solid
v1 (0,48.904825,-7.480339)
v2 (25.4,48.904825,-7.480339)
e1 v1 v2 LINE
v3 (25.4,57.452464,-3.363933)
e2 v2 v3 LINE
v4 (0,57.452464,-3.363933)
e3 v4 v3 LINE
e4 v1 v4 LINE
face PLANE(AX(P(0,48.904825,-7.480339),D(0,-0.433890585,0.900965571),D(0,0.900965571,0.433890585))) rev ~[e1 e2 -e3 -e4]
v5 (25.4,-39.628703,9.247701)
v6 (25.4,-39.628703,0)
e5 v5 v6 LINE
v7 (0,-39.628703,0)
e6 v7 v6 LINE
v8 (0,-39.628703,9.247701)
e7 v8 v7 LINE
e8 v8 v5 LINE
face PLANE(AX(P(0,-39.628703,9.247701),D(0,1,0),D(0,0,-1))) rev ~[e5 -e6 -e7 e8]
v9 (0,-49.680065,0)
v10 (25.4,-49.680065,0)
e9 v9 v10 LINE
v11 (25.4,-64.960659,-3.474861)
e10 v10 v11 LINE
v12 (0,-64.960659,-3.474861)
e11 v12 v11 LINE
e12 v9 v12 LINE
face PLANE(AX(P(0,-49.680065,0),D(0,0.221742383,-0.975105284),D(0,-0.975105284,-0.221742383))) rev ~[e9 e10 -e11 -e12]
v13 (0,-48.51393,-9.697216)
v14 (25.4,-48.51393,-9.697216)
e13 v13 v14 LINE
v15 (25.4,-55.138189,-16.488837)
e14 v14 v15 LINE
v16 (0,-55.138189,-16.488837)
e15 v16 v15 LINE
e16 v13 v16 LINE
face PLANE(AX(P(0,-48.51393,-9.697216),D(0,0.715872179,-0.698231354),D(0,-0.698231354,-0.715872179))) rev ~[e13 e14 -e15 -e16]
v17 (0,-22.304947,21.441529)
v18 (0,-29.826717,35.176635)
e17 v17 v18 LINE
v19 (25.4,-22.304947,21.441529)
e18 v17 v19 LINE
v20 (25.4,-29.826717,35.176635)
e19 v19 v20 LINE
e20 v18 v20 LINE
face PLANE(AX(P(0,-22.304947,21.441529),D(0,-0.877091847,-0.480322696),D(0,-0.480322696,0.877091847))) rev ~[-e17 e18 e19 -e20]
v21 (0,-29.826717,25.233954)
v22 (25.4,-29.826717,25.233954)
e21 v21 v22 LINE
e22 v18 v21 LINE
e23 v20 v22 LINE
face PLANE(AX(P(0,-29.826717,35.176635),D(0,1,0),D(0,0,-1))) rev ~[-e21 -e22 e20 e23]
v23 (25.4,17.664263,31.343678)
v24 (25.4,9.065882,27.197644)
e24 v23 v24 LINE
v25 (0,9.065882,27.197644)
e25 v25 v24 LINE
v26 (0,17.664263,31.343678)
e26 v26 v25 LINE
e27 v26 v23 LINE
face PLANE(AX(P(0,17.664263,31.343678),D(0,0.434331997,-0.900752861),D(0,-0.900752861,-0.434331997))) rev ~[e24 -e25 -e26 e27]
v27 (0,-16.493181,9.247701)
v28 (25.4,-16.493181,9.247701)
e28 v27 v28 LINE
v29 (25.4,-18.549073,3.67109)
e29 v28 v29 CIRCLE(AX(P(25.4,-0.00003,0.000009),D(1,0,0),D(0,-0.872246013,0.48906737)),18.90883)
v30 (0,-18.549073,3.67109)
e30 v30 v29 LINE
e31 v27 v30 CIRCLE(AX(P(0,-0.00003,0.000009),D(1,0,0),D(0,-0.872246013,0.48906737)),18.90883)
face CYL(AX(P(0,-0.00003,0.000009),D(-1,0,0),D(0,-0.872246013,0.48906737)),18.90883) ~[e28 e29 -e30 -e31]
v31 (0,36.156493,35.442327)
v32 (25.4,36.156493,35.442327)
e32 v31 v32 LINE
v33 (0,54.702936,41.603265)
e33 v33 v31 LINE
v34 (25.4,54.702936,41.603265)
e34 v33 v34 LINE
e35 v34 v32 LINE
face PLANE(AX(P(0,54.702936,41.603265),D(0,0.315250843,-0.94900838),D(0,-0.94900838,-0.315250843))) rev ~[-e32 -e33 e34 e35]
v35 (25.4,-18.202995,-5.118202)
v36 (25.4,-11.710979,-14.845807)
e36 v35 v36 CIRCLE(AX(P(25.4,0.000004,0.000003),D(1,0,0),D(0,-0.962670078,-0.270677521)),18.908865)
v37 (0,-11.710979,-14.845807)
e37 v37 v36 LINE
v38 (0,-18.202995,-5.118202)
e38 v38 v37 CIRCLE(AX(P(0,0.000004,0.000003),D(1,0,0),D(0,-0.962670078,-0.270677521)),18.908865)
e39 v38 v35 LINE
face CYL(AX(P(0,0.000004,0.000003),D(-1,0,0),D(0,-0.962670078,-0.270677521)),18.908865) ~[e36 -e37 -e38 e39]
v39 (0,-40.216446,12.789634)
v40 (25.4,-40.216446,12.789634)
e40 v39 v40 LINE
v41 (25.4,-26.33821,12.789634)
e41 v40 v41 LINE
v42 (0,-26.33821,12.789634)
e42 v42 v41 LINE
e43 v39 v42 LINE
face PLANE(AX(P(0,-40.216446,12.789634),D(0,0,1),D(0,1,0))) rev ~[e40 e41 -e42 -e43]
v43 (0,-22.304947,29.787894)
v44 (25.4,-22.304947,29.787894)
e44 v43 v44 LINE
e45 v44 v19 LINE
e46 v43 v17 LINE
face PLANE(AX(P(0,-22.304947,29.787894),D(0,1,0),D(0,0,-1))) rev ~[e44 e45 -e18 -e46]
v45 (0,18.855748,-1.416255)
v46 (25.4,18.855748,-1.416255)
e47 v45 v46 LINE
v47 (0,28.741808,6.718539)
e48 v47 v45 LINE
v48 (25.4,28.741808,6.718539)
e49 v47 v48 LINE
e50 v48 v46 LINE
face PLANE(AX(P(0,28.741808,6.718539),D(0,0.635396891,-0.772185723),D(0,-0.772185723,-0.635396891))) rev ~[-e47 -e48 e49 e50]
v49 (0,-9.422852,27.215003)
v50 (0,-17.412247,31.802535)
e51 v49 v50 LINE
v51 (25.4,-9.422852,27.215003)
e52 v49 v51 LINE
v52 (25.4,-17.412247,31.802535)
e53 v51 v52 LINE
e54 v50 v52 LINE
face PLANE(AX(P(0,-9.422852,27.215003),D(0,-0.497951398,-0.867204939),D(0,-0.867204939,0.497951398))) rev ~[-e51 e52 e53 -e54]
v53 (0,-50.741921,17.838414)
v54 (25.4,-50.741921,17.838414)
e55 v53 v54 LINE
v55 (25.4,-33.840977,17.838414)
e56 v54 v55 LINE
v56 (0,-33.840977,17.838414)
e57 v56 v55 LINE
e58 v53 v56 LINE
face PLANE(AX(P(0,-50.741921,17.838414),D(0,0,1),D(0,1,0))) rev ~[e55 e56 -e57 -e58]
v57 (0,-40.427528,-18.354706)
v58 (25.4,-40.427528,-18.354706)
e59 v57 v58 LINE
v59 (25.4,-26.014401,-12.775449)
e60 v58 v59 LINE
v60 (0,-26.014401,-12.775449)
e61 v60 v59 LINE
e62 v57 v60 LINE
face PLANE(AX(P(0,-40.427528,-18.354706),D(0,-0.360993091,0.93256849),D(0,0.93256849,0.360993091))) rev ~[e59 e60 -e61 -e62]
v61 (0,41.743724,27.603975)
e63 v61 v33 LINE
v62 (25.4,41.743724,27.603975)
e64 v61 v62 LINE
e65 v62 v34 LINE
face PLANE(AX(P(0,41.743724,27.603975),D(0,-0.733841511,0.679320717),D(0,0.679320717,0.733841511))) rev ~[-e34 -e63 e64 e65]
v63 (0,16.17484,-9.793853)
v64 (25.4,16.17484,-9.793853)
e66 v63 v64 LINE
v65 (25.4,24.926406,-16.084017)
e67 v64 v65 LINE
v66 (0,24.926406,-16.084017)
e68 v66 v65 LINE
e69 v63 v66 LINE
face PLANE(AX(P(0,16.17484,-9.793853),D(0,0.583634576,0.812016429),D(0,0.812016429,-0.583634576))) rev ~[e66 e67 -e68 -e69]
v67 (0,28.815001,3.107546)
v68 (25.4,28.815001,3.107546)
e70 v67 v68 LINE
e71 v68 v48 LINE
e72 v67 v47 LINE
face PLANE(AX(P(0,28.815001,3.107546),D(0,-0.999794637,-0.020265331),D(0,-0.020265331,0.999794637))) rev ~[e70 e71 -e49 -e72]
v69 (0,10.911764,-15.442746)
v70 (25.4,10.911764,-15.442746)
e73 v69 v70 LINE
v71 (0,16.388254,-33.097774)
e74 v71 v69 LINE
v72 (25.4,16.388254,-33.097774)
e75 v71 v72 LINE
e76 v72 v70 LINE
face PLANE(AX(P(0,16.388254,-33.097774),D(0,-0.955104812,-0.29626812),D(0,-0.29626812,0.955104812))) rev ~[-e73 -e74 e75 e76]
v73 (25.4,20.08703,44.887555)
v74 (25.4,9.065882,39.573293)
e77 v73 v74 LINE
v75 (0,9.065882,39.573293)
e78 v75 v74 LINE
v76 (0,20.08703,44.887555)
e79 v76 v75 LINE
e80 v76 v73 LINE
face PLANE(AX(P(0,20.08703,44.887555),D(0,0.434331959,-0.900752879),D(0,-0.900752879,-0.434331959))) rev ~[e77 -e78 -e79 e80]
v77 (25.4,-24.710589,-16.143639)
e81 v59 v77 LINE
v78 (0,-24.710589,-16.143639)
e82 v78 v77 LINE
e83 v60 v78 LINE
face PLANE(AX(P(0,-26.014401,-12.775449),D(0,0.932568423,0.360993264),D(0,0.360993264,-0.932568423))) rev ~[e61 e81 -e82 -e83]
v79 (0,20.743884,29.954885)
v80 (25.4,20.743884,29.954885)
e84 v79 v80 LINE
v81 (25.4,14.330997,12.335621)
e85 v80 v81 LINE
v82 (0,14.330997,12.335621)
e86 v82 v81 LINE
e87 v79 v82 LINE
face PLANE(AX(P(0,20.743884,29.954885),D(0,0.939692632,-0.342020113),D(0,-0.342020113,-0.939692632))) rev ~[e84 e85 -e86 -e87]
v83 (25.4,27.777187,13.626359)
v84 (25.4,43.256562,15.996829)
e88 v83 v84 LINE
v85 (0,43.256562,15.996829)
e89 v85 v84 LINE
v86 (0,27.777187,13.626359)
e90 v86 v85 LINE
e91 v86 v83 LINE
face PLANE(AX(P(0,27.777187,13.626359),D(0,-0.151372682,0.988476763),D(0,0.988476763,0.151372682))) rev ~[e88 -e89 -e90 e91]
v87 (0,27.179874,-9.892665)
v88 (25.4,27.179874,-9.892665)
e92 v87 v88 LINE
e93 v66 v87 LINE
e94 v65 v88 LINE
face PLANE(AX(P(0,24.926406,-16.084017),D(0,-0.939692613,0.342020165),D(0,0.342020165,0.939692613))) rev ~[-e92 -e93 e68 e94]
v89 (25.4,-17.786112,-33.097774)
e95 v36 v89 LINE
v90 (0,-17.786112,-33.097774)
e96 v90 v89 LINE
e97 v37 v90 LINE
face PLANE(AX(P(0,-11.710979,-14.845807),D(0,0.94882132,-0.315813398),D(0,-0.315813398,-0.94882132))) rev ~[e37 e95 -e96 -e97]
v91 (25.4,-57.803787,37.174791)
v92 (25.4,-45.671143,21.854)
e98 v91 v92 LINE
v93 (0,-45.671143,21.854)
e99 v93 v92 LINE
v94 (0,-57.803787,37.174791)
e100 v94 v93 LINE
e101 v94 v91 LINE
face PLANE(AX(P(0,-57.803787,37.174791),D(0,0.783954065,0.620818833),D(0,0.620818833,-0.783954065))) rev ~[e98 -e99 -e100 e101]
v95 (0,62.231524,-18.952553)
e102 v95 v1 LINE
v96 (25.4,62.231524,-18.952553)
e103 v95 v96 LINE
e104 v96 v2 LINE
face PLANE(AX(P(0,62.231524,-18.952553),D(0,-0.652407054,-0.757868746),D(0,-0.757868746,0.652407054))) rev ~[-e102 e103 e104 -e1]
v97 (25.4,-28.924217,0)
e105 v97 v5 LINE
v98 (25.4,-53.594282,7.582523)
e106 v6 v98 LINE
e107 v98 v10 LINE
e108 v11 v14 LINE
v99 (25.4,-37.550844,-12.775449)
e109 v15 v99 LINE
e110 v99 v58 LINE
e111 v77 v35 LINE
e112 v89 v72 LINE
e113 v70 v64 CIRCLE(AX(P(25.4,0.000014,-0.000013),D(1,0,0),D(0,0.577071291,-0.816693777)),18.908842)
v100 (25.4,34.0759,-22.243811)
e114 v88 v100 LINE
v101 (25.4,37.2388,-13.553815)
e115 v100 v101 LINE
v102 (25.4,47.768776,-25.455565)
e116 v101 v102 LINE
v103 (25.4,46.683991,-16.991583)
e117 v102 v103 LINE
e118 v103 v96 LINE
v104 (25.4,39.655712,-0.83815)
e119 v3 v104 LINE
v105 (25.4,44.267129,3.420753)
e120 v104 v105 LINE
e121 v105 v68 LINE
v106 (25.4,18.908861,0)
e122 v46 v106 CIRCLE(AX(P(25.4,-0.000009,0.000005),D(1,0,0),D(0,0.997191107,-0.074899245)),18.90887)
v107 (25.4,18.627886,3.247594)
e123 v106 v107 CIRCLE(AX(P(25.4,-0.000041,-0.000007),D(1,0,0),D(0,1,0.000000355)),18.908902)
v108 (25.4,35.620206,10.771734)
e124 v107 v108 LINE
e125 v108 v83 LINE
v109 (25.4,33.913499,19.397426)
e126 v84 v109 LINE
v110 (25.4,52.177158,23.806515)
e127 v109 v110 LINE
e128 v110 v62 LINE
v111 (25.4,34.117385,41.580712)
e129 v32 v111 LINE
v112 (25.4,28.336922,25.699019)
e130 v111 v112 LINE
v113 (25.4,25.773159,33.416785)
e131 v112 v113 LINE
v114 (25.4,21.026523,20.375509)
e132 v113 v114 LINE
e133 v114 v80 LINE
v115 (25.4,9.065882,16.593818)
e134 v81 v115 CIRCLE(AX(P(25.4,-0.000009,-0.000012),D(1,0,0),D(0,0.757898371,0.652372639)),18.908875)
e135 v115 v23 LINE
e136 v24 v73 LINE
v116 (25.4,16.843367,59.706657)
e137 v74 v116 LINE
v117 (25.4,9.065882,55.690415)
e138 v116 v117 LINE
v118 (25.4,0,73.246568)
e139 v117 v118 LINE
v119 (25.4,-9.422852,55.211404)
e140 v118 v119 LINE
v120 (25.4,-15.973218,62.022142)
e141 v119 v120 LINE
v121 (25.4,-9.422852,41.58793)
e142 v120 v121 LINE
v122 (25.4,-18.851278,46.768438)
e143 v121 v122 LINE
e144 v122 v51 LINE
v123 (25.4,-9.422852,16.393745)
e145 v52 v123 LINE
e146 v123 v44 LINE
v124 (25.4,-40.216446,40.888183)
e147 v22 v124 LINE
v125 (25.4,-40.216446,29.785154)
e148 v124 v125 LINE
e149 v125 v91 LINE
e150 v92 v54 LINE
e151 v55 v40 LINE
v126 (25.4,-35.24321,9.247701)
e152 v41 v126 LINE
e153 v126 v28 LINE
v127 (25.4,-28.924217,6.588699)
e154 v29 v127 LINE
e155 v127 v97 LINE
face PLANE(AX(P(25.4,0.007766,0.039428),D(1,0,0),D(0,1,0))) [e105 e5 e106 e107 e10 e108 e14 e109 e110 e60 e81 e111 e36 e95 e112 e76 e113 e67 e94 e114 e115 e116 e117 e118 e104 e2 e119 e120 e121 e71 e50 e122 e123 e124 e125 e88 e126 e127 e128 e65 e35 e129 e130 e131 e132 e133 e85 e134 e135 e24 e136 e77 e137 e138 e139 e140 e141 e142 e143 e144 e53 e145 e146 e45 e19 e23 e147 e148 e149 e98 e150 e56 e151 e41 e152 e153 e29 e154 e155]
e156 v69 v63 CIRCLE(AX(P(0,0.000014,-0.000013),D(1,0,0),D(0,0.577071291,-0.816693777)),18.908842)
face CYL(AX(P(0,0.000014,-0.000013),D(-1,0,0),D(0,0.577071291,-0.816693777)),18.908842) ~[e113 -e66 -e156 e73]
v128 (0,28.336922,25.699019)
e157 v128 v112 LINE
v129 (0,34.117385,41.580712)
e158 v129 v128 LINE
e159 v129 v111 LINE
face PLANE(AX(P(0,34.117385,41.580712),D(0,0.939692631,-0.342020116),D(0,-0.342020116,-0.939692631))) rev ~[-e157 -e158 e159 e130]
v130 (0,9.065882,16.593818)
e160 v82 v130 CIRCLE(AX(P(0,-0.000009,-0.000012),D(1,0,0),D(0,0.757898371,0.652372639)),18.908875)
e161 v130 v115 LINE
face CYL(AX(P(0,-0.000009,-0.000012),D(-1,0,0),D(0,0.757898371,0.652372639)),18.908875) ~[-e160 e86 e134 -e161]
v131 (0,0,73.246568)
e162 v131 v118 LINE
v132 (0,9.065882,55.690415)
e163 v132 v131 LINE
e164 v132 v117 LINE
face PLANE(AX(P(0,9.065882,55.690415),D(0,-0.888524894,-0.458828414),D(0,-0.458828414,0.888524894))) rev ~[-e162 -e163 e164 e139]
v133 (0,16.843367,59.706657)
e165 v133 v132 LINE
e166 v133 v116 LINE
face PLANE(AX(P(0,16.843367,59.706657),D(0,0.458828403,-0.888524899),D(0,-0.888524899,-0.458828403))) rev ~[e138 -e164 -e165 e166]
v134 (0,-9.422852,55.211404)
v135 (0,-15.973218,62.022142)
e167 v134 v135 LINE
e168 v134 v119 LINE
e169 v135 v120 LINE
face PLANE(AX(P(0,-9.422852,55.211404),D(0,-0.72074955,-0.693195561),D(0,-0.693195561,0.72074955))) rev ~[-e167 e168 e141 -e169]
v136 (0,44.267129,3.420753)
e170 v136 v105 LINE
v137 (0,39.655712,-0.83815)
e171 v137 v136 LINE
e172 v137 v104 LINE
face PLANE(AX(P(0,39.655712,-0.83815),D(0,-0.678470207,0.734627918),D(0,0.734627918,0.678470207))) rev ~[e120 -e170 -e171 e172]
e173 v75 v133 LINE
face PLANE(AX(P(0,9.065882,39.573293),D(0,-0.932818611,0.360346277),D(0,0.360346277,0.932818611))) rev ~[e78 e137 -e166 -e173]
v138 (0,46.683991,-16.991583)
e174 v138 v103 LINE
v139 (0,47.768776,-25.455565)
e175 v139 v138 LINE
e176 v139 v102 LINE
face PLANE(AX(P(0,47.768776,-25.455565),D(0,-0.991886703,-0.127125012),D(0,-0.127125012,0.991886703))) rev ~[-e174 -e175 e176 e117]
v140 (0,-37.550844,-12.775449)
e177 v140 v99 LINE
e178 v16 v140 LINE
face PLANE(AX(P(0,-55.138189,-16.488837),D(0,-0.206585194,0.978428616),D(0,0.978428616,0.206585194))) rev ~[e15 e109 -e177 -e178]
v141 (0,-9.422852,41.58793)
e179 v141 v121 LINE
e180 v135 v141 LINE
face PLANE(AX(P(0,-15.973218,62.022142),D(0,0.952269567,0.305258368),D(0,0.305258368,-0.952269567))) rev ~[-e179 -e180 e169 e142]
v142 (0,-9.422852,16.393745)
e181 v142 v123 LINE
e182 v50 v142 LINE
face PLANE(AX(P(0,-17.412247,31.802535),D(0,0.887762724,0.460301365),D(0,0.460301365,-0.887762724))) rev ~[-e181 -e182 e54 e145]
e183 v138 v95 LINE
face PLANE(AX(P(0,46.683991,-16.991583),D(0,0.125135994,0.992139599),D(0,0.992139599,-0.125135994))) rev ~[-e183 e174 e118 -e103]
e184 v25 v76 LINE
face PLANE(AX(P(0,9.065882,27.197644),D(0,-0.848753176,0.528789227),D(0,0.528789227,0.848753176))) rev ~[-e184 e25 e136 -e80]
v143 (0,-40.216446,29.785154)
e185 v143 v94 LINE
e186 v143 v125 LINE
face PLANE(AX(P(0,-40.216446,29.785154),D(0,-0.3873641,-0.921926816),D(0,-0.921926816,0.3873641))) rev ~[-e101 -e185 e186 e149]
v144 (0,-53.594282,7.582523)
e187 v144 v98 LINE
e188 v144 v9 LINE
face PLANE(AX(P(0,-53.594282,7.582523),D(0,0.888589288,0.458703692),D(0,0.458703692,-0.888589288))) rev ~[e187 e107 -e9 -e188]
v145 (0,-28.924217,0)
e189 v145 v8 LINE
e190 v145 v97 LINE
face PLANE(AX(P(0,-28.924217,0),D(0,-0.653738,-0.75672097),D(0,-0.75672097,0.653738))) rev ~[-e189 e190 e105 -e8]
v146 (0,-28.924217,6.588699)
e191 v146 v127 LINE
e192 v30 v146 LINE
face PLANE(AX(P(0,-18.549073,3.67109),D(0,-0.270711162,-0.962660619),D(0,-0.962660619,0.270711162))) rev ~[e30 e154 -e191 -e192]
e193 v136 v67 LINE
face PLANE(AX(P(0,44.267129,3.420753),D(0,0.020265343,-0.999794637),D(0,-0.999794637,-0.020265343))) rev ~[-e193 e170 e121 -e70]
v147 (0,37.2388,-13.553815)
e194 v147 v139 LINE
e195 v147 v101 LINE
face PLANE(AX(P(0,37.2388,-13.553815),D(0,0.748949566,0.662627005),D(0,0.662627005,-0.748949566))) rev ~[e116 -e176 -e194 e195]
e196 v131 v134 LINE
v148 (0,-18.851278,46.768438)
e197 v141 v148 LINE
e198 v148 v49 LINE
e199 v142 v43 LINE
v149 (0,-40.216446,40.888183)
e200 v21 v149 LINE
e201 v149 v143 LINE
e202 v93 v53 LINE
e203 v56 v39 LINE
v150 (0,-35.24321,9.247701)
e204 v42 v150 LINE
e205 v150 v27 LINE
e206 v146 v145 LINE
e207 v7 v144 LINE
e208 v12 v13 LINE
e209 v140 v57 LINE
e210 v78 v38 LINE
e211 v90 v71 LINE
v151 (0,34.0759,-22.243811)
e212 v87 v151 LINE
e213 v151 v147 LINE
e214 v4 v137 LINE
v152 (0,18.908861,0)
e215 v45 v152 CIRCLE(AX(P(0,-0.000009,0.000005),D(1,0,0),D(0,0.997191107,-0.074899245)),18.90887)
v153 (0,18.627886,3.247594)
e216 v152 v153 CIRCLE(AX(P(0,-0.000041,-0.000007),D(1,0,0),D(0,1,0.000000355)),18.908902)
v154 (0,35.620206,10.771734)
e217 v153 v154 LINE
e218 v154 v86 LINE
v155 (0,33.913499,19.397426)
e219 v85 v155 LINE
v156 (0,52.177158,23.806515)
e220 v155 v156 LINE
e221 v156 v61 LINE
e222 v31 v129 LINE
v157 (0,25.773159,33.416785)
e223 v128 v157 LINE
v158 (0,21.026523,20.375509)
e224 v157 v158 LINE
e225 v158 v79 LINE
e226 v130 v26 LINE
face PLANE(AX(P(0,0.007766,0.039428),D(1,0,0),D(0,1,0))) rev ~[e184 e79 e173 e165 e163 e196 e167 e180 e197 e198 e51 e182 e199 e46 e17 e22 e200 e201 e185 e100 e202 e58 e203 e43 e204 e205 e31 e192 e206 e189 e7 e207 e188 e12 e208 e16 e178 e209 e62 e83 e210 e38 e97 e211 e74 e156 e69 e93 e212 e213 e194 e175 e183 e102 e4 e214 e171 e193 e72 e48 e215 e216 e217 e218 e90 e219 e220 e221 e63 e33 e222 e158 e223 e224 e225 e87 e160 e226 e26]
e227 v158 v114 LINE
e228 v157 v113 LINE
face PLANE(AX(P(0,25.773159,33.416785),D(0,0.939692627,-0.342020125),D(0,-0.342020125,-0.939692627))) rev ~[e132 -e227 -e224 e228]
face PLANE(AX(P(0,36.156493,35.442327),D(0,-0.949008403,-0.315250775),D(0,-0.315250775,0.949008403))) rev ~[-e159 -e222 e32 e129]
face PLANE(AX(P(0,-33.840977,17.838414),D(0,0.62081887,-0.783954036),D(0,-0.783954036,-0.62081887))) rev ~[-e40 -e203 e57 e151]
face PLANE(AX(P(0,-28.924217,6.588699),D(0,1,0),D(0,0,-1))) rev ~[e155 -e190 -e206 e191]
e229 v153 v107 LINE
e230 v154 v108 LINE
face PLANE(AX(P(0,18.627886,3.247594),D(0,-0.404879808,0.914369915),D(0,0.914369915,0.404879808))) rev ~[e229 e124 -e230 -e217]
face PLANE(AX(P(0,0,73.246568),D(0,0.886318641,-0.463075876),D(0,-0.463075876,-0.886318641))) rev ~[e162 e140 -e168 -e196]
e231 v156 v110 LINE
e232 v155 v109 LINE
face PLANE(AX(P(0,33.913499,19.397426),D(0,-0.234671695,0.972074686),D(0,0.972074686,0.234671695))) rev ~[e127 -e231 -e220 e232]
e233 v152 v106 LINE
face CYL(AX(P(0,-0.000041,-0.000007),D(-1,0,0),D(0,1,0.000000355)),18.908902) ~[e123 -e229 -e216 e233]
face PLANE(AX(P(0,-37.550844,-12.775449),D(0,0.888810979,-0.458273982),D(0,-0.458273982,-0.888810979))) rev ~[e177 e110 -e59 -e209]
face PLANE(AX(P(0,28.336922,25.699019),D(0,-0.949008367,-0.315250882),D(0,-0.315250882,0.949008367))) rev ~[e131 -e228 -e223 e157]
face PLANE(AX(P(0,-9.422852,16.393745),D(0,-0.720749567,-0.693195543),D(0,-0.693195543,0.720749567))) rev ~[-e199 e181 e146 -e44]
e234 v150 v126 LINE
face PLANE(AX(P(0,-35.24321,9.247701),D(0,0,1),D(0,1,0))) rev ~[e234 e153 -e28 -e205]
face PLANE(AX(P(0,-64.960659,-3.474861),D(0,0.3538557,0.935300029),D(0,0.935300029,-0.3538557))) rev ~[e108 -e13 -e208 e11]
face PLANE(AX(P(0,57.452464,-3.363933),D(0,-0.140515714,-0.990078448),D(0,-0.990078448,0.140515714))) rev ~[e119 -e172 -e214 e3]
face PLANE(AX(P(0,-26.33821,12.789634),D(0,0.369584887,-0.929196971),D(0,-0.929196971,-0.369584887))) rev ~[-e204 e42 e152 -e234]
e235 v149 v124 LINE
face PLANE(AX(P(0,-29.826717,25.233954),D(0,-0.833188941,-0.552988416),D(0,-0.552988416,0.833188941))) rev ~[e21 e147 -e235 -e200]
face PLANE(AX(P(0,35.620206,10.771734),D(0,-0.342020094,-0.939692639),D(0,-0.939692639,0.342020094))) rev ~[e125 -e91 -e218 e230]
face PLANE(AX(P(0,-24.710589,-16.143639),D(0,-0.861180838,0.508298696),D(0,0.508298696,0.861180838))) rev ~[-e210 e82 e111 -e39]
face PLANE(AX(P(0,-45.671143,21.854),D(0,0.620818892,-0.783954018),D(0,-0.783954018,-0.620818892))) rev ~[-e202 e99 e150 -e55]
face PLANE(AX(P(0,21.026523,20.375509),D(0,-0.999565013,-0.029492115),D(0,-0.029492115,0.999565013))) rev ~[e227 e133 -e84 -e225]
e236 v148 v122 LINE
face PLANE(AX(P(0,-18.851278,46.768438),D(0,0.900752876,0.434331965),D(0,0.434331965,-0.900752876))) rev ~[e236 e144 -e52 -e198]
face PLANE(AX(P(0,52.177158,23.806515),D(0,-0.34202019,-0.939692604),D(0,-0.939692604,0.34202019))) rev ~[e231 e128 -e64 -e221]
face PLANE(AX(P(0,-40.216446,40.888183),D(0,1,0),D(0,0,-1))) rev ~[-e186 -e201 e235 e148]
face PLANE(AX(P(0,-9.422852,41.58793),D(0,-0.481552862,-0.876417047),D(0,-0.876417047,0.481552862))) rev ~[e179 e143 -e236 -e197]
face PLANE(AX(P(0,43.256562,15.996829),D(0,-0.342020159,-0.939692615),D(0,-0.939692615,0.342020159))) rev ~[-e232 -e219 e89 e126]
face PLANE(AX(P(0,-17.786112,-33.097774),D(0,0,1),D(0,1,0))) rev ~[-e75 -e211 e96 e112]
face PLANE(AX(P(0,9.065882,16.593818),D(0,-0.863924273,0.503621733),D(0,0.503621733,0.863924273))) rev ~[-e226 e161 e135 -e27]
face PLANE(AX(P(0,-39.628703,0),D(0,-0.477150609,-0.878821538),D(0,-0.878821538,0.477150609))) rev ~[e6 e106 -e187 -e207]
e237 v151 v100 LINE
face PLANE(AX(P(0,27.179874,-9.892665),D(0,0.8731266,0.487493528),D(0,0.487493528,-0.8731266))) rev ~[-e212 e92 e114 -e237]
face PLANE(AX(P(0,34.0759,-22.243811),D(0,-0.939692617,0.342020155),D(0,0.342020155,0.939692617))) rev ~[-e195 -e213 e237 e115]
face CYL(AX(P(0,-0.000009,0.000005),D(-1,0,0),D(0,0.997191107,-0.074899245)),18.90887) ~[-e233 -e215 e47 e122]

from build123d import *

# Parameters (mm, degrees)
F1_DEPTH = 25.4


with BuildPart() as f1:
    # F0 (on Right) → F1 (new body)
    with BuildSketch(Plane.YZ):
        with BuildLine():
            ThreePointArc((18.855748, -1.416255), (18.895578, -0.708625), (18.908861, 0))
            ThreePointArc((18.908861, 0), (18.838486, 1.629863), (18.627886, 3.247594))
            ThreePointArc((18.627886, 3.247594), (17.094445, 8.082386), (14.330997, 12.335621))
            ThreePointArc((14.330997, 12.335621), (11.890608, 14.702328), (9.065882, 16.593818))
            ThreePointArc((9.065882, 16.593818), (-0.204608, 18.907754), (-9.422852, 16.393745))
            ThreePointArc((-9.422852, 16.393745), (-13.441603, 13.299185), (-16.493181, 9.247701))
            ThreePointArc((-16.493181, 9.247701), (-17.741605, 6.540678), (-18.549073, 3.67109))
            ThreePointArc((-18.549073, 3.67109), (-18.89422, -0.743959), (-18.202995, -5.118202))
            ThreePointArc((-18.202995, -5.118202), (-15.727938, -10.496522), (-11.710979, -14.845807))
            ThreePointArc((-11.710979, -14.845807), (-0.498769, -18.902281), (10.911764, -15.442746))
            ThreePointArc((10.911764, -15.442746), (13.834686, -12.889782), (16.17484, -9.793853))
            ThreePointArc((16.17484, -9.793853), (18.009208, -5.763111), (18.855748, -1.416255))
        make_face()
        with BuildLine():
            ThreePointArc((14.330997, 12.335621), (17.094445, 8.082386), (18.627886, 3.247594))
            Line((18.627886, 3.247594), (35.620206, 10.771734))
            Line((35.620206, 10.771734), (27.777187, 13.626359))
            Line((27.777187, 13.626359), (43.256562, 15.996829))
            Line((43.256562, 15.996829), (33.913499, 19.397426))
            Line((33.913499, 19.397426), (52.177158, 23.806515))
            Line((52.177158, 23.806515), (41.743724, 27.603975))
            Line((41.743724, 27.603975), (54.702936, 41.603265))
            Line((54.702936, 41.603265), (36.156493, 35.442327))
            Line((36.156493, 35.442327), (34.117385, 41.580712))
            Line((34.117385, 41.580712), (28.336922, 25.699019))
            Line((28.336922, 25.699019), (25.773159, 33.416785))
            Line((25.773159, 33.416785), (21.026523, 20.375509))
            Line((21.026523, 20.375509), (20.743884, 29.954885))
            Line((20.743884, 29.954885), (14.330997, 12.335621))
        make_face()
        with BuildLine():
            Line((28.741808, 6.718539), (18.855748, -1.416255))
            ThreePointArc((18.855748, -1.416255), (18.009208, -5.763111), (16.17484, -9.793853))
            Line((16.17484, -9.793853), (24.926406, -16.084017))
            Line((24.926406, -16.084017), (27.179874, -9.892665))
            Line((27.179874, -9.892665), (34.0759, -22.243811))
            Line((34.0759, -22.243811), (37.2388, -13.553815))
            Line((37.2388, -13.553815), (47.768776, -25.455565))
            Line((47.768776, -25.455565), (46.683991, -16.991583))
            Line((46.683991, -16.991583), (62.231524, -18.952553))
            Line((62.231524, -18.952553), (48.904825, -7.480339))
            Line((48.904825, -7.480339), (57.452464, -3.363933))
            Line((57.452464, -3.363933), (39.655712, -0.83815))
            Line((39.655712, -0.83815), (44.267129, 3.420753))
            Line((44.267129, 3.420753), (28.815001, 3.107546))
            Line((28.815001, 3.107546), (28.741808, 6.718539))
        make_face()
        with BuildLine():
            ThreePointArc((-9.422852, 16.393745), (-0.204608, 18.907754), (9.065882, 16.593818))
            Line((9.065882, 16.593818), (17.664263, 31.343678))
            Line((17.664263, 31.343678), (9.065882, 27.197644))
            Line((9.065882, 27.197644), (20.08703, 44.887555))
            Line((20.08703, 44.887555), (9.065882, 39.573293))
            Line((9.065882, 39.573293), (16.843367, 59.706657))
            Line((16.843367, 59.706657), (9.065882, 55.690415))
            Line((9.065882, 55.690415), (0, 73.246568))
            Line((0, 73.246568), (-9.422852, 55.211404))
            Line((-9.422852, 55.211404), (-15.973218, 62.022142))
            Line((-15.973218, 62.022142), (-9.422852, 41.58793))
            Line((-9.422852, 41.58793), (-18.851278, 46.768438))
            Line((-18.851278, 46.768438), (-9.422852, 27.215003))
            Line((-9.422852, 27.215003), (-17.412247, 31.802535))
            Line((-17.412247, 31.802535), (-9.422852, 16.393745))
        make_face()
        with BuildLine():
            Line((16.388254, -33.097774), (10.911764, -15.442746))
            ThreePointArc((10.911764, -15.442746), (-0.498769, -18.902281), (-11.710979, -14.845807))
            Line((-11.710979, -14.845807), (-17.786112, -33.097774))
            Line((-17.786112, -33.097774), (16.388254, -33.097774))
        make_face()
        with BuildLine():
            ThreePointArc((-16.493181, 9.247701), (-13.441603, 13.299185), (-9.422852, 16.393745))
            Line((-9.422852, 16.393745), (-22.304947, 29.787894))
            Line((-22.304947, 29.787894), (-22.304947, 21.441529))
            Line((-22.304947, 21.441529), (-29.826717, 35.176635))
            Line((-29.826717, 35.176635), (-29.826717, 25.233954))
            Line((-29.826717, 25.233954), (-40.216446, 40.888183))
            Line((-40.216446, 40.888183), (-40.216446, 29.785154))
            Line((-40.216446, 29.785154), (-57.803787, 37.174791))
            Line((-57.803787, 37.174791), (-45.671143, 21.854))
            Line((-45.671143, 21.854), (-50.741921, 17.838414))
            Line((-50.741921, 17.838414), (-33.840977, 17.838414))
            Line((-33.840977, 17.838414), (-40.216446, 12.789634))
            Line((-40.216446, 12.789634), (-26.33821, 12.789634))
            Line((-26.33821, 12.789634), (-35.24321, 9.247701))
            Line((-35.24321, 9.247701), (-16.493181, 9.247701))
        make_face()
        with BuildLine():
            Line((-24.710589, -16.143639), (-18.202995, -5.118202))
            ThreePointArc((-18.202995, -5.118202), (-18.89422, -0.743959), (-18.549073, 3.67109))
            Line((-18.549073, 3.67109), (-28.924217, 6.588699))
            Line((-28.924217, 6.588699), (-28.924217, 0))
            Line((-28.924217, 0), (-39.628703, 9.247701))
            Line((-39.628703, 9.247701), (-39.628703, 0))
            Line((-39.628703, 0), (-53.594282, 7.582523))
            Line((-53.594282, 7.582523), (-49.680065, 0))
            Line((-49.680065, 0), (-64.960659, -3.474861))
            Line((-64.960659, -3.474861), (-48.51393, -9.697216))
            Line((-48.51393, -9.697216), (-55.138189, -16.488837))
            Line((-55.138189, -16.488837), (-37.550844, -12.775449))
            Line((-37.550844, -12.775449), (-40.427528, -18.354706))
            Line((-40.427528, -18.354706), (-26.014401, -12.775449))
            Line((-26.014401, -12.775449), (-24.710589, -16.143639))
        make_face()
    extrude(amount=F1_DEPTH)


solid = f1.part
